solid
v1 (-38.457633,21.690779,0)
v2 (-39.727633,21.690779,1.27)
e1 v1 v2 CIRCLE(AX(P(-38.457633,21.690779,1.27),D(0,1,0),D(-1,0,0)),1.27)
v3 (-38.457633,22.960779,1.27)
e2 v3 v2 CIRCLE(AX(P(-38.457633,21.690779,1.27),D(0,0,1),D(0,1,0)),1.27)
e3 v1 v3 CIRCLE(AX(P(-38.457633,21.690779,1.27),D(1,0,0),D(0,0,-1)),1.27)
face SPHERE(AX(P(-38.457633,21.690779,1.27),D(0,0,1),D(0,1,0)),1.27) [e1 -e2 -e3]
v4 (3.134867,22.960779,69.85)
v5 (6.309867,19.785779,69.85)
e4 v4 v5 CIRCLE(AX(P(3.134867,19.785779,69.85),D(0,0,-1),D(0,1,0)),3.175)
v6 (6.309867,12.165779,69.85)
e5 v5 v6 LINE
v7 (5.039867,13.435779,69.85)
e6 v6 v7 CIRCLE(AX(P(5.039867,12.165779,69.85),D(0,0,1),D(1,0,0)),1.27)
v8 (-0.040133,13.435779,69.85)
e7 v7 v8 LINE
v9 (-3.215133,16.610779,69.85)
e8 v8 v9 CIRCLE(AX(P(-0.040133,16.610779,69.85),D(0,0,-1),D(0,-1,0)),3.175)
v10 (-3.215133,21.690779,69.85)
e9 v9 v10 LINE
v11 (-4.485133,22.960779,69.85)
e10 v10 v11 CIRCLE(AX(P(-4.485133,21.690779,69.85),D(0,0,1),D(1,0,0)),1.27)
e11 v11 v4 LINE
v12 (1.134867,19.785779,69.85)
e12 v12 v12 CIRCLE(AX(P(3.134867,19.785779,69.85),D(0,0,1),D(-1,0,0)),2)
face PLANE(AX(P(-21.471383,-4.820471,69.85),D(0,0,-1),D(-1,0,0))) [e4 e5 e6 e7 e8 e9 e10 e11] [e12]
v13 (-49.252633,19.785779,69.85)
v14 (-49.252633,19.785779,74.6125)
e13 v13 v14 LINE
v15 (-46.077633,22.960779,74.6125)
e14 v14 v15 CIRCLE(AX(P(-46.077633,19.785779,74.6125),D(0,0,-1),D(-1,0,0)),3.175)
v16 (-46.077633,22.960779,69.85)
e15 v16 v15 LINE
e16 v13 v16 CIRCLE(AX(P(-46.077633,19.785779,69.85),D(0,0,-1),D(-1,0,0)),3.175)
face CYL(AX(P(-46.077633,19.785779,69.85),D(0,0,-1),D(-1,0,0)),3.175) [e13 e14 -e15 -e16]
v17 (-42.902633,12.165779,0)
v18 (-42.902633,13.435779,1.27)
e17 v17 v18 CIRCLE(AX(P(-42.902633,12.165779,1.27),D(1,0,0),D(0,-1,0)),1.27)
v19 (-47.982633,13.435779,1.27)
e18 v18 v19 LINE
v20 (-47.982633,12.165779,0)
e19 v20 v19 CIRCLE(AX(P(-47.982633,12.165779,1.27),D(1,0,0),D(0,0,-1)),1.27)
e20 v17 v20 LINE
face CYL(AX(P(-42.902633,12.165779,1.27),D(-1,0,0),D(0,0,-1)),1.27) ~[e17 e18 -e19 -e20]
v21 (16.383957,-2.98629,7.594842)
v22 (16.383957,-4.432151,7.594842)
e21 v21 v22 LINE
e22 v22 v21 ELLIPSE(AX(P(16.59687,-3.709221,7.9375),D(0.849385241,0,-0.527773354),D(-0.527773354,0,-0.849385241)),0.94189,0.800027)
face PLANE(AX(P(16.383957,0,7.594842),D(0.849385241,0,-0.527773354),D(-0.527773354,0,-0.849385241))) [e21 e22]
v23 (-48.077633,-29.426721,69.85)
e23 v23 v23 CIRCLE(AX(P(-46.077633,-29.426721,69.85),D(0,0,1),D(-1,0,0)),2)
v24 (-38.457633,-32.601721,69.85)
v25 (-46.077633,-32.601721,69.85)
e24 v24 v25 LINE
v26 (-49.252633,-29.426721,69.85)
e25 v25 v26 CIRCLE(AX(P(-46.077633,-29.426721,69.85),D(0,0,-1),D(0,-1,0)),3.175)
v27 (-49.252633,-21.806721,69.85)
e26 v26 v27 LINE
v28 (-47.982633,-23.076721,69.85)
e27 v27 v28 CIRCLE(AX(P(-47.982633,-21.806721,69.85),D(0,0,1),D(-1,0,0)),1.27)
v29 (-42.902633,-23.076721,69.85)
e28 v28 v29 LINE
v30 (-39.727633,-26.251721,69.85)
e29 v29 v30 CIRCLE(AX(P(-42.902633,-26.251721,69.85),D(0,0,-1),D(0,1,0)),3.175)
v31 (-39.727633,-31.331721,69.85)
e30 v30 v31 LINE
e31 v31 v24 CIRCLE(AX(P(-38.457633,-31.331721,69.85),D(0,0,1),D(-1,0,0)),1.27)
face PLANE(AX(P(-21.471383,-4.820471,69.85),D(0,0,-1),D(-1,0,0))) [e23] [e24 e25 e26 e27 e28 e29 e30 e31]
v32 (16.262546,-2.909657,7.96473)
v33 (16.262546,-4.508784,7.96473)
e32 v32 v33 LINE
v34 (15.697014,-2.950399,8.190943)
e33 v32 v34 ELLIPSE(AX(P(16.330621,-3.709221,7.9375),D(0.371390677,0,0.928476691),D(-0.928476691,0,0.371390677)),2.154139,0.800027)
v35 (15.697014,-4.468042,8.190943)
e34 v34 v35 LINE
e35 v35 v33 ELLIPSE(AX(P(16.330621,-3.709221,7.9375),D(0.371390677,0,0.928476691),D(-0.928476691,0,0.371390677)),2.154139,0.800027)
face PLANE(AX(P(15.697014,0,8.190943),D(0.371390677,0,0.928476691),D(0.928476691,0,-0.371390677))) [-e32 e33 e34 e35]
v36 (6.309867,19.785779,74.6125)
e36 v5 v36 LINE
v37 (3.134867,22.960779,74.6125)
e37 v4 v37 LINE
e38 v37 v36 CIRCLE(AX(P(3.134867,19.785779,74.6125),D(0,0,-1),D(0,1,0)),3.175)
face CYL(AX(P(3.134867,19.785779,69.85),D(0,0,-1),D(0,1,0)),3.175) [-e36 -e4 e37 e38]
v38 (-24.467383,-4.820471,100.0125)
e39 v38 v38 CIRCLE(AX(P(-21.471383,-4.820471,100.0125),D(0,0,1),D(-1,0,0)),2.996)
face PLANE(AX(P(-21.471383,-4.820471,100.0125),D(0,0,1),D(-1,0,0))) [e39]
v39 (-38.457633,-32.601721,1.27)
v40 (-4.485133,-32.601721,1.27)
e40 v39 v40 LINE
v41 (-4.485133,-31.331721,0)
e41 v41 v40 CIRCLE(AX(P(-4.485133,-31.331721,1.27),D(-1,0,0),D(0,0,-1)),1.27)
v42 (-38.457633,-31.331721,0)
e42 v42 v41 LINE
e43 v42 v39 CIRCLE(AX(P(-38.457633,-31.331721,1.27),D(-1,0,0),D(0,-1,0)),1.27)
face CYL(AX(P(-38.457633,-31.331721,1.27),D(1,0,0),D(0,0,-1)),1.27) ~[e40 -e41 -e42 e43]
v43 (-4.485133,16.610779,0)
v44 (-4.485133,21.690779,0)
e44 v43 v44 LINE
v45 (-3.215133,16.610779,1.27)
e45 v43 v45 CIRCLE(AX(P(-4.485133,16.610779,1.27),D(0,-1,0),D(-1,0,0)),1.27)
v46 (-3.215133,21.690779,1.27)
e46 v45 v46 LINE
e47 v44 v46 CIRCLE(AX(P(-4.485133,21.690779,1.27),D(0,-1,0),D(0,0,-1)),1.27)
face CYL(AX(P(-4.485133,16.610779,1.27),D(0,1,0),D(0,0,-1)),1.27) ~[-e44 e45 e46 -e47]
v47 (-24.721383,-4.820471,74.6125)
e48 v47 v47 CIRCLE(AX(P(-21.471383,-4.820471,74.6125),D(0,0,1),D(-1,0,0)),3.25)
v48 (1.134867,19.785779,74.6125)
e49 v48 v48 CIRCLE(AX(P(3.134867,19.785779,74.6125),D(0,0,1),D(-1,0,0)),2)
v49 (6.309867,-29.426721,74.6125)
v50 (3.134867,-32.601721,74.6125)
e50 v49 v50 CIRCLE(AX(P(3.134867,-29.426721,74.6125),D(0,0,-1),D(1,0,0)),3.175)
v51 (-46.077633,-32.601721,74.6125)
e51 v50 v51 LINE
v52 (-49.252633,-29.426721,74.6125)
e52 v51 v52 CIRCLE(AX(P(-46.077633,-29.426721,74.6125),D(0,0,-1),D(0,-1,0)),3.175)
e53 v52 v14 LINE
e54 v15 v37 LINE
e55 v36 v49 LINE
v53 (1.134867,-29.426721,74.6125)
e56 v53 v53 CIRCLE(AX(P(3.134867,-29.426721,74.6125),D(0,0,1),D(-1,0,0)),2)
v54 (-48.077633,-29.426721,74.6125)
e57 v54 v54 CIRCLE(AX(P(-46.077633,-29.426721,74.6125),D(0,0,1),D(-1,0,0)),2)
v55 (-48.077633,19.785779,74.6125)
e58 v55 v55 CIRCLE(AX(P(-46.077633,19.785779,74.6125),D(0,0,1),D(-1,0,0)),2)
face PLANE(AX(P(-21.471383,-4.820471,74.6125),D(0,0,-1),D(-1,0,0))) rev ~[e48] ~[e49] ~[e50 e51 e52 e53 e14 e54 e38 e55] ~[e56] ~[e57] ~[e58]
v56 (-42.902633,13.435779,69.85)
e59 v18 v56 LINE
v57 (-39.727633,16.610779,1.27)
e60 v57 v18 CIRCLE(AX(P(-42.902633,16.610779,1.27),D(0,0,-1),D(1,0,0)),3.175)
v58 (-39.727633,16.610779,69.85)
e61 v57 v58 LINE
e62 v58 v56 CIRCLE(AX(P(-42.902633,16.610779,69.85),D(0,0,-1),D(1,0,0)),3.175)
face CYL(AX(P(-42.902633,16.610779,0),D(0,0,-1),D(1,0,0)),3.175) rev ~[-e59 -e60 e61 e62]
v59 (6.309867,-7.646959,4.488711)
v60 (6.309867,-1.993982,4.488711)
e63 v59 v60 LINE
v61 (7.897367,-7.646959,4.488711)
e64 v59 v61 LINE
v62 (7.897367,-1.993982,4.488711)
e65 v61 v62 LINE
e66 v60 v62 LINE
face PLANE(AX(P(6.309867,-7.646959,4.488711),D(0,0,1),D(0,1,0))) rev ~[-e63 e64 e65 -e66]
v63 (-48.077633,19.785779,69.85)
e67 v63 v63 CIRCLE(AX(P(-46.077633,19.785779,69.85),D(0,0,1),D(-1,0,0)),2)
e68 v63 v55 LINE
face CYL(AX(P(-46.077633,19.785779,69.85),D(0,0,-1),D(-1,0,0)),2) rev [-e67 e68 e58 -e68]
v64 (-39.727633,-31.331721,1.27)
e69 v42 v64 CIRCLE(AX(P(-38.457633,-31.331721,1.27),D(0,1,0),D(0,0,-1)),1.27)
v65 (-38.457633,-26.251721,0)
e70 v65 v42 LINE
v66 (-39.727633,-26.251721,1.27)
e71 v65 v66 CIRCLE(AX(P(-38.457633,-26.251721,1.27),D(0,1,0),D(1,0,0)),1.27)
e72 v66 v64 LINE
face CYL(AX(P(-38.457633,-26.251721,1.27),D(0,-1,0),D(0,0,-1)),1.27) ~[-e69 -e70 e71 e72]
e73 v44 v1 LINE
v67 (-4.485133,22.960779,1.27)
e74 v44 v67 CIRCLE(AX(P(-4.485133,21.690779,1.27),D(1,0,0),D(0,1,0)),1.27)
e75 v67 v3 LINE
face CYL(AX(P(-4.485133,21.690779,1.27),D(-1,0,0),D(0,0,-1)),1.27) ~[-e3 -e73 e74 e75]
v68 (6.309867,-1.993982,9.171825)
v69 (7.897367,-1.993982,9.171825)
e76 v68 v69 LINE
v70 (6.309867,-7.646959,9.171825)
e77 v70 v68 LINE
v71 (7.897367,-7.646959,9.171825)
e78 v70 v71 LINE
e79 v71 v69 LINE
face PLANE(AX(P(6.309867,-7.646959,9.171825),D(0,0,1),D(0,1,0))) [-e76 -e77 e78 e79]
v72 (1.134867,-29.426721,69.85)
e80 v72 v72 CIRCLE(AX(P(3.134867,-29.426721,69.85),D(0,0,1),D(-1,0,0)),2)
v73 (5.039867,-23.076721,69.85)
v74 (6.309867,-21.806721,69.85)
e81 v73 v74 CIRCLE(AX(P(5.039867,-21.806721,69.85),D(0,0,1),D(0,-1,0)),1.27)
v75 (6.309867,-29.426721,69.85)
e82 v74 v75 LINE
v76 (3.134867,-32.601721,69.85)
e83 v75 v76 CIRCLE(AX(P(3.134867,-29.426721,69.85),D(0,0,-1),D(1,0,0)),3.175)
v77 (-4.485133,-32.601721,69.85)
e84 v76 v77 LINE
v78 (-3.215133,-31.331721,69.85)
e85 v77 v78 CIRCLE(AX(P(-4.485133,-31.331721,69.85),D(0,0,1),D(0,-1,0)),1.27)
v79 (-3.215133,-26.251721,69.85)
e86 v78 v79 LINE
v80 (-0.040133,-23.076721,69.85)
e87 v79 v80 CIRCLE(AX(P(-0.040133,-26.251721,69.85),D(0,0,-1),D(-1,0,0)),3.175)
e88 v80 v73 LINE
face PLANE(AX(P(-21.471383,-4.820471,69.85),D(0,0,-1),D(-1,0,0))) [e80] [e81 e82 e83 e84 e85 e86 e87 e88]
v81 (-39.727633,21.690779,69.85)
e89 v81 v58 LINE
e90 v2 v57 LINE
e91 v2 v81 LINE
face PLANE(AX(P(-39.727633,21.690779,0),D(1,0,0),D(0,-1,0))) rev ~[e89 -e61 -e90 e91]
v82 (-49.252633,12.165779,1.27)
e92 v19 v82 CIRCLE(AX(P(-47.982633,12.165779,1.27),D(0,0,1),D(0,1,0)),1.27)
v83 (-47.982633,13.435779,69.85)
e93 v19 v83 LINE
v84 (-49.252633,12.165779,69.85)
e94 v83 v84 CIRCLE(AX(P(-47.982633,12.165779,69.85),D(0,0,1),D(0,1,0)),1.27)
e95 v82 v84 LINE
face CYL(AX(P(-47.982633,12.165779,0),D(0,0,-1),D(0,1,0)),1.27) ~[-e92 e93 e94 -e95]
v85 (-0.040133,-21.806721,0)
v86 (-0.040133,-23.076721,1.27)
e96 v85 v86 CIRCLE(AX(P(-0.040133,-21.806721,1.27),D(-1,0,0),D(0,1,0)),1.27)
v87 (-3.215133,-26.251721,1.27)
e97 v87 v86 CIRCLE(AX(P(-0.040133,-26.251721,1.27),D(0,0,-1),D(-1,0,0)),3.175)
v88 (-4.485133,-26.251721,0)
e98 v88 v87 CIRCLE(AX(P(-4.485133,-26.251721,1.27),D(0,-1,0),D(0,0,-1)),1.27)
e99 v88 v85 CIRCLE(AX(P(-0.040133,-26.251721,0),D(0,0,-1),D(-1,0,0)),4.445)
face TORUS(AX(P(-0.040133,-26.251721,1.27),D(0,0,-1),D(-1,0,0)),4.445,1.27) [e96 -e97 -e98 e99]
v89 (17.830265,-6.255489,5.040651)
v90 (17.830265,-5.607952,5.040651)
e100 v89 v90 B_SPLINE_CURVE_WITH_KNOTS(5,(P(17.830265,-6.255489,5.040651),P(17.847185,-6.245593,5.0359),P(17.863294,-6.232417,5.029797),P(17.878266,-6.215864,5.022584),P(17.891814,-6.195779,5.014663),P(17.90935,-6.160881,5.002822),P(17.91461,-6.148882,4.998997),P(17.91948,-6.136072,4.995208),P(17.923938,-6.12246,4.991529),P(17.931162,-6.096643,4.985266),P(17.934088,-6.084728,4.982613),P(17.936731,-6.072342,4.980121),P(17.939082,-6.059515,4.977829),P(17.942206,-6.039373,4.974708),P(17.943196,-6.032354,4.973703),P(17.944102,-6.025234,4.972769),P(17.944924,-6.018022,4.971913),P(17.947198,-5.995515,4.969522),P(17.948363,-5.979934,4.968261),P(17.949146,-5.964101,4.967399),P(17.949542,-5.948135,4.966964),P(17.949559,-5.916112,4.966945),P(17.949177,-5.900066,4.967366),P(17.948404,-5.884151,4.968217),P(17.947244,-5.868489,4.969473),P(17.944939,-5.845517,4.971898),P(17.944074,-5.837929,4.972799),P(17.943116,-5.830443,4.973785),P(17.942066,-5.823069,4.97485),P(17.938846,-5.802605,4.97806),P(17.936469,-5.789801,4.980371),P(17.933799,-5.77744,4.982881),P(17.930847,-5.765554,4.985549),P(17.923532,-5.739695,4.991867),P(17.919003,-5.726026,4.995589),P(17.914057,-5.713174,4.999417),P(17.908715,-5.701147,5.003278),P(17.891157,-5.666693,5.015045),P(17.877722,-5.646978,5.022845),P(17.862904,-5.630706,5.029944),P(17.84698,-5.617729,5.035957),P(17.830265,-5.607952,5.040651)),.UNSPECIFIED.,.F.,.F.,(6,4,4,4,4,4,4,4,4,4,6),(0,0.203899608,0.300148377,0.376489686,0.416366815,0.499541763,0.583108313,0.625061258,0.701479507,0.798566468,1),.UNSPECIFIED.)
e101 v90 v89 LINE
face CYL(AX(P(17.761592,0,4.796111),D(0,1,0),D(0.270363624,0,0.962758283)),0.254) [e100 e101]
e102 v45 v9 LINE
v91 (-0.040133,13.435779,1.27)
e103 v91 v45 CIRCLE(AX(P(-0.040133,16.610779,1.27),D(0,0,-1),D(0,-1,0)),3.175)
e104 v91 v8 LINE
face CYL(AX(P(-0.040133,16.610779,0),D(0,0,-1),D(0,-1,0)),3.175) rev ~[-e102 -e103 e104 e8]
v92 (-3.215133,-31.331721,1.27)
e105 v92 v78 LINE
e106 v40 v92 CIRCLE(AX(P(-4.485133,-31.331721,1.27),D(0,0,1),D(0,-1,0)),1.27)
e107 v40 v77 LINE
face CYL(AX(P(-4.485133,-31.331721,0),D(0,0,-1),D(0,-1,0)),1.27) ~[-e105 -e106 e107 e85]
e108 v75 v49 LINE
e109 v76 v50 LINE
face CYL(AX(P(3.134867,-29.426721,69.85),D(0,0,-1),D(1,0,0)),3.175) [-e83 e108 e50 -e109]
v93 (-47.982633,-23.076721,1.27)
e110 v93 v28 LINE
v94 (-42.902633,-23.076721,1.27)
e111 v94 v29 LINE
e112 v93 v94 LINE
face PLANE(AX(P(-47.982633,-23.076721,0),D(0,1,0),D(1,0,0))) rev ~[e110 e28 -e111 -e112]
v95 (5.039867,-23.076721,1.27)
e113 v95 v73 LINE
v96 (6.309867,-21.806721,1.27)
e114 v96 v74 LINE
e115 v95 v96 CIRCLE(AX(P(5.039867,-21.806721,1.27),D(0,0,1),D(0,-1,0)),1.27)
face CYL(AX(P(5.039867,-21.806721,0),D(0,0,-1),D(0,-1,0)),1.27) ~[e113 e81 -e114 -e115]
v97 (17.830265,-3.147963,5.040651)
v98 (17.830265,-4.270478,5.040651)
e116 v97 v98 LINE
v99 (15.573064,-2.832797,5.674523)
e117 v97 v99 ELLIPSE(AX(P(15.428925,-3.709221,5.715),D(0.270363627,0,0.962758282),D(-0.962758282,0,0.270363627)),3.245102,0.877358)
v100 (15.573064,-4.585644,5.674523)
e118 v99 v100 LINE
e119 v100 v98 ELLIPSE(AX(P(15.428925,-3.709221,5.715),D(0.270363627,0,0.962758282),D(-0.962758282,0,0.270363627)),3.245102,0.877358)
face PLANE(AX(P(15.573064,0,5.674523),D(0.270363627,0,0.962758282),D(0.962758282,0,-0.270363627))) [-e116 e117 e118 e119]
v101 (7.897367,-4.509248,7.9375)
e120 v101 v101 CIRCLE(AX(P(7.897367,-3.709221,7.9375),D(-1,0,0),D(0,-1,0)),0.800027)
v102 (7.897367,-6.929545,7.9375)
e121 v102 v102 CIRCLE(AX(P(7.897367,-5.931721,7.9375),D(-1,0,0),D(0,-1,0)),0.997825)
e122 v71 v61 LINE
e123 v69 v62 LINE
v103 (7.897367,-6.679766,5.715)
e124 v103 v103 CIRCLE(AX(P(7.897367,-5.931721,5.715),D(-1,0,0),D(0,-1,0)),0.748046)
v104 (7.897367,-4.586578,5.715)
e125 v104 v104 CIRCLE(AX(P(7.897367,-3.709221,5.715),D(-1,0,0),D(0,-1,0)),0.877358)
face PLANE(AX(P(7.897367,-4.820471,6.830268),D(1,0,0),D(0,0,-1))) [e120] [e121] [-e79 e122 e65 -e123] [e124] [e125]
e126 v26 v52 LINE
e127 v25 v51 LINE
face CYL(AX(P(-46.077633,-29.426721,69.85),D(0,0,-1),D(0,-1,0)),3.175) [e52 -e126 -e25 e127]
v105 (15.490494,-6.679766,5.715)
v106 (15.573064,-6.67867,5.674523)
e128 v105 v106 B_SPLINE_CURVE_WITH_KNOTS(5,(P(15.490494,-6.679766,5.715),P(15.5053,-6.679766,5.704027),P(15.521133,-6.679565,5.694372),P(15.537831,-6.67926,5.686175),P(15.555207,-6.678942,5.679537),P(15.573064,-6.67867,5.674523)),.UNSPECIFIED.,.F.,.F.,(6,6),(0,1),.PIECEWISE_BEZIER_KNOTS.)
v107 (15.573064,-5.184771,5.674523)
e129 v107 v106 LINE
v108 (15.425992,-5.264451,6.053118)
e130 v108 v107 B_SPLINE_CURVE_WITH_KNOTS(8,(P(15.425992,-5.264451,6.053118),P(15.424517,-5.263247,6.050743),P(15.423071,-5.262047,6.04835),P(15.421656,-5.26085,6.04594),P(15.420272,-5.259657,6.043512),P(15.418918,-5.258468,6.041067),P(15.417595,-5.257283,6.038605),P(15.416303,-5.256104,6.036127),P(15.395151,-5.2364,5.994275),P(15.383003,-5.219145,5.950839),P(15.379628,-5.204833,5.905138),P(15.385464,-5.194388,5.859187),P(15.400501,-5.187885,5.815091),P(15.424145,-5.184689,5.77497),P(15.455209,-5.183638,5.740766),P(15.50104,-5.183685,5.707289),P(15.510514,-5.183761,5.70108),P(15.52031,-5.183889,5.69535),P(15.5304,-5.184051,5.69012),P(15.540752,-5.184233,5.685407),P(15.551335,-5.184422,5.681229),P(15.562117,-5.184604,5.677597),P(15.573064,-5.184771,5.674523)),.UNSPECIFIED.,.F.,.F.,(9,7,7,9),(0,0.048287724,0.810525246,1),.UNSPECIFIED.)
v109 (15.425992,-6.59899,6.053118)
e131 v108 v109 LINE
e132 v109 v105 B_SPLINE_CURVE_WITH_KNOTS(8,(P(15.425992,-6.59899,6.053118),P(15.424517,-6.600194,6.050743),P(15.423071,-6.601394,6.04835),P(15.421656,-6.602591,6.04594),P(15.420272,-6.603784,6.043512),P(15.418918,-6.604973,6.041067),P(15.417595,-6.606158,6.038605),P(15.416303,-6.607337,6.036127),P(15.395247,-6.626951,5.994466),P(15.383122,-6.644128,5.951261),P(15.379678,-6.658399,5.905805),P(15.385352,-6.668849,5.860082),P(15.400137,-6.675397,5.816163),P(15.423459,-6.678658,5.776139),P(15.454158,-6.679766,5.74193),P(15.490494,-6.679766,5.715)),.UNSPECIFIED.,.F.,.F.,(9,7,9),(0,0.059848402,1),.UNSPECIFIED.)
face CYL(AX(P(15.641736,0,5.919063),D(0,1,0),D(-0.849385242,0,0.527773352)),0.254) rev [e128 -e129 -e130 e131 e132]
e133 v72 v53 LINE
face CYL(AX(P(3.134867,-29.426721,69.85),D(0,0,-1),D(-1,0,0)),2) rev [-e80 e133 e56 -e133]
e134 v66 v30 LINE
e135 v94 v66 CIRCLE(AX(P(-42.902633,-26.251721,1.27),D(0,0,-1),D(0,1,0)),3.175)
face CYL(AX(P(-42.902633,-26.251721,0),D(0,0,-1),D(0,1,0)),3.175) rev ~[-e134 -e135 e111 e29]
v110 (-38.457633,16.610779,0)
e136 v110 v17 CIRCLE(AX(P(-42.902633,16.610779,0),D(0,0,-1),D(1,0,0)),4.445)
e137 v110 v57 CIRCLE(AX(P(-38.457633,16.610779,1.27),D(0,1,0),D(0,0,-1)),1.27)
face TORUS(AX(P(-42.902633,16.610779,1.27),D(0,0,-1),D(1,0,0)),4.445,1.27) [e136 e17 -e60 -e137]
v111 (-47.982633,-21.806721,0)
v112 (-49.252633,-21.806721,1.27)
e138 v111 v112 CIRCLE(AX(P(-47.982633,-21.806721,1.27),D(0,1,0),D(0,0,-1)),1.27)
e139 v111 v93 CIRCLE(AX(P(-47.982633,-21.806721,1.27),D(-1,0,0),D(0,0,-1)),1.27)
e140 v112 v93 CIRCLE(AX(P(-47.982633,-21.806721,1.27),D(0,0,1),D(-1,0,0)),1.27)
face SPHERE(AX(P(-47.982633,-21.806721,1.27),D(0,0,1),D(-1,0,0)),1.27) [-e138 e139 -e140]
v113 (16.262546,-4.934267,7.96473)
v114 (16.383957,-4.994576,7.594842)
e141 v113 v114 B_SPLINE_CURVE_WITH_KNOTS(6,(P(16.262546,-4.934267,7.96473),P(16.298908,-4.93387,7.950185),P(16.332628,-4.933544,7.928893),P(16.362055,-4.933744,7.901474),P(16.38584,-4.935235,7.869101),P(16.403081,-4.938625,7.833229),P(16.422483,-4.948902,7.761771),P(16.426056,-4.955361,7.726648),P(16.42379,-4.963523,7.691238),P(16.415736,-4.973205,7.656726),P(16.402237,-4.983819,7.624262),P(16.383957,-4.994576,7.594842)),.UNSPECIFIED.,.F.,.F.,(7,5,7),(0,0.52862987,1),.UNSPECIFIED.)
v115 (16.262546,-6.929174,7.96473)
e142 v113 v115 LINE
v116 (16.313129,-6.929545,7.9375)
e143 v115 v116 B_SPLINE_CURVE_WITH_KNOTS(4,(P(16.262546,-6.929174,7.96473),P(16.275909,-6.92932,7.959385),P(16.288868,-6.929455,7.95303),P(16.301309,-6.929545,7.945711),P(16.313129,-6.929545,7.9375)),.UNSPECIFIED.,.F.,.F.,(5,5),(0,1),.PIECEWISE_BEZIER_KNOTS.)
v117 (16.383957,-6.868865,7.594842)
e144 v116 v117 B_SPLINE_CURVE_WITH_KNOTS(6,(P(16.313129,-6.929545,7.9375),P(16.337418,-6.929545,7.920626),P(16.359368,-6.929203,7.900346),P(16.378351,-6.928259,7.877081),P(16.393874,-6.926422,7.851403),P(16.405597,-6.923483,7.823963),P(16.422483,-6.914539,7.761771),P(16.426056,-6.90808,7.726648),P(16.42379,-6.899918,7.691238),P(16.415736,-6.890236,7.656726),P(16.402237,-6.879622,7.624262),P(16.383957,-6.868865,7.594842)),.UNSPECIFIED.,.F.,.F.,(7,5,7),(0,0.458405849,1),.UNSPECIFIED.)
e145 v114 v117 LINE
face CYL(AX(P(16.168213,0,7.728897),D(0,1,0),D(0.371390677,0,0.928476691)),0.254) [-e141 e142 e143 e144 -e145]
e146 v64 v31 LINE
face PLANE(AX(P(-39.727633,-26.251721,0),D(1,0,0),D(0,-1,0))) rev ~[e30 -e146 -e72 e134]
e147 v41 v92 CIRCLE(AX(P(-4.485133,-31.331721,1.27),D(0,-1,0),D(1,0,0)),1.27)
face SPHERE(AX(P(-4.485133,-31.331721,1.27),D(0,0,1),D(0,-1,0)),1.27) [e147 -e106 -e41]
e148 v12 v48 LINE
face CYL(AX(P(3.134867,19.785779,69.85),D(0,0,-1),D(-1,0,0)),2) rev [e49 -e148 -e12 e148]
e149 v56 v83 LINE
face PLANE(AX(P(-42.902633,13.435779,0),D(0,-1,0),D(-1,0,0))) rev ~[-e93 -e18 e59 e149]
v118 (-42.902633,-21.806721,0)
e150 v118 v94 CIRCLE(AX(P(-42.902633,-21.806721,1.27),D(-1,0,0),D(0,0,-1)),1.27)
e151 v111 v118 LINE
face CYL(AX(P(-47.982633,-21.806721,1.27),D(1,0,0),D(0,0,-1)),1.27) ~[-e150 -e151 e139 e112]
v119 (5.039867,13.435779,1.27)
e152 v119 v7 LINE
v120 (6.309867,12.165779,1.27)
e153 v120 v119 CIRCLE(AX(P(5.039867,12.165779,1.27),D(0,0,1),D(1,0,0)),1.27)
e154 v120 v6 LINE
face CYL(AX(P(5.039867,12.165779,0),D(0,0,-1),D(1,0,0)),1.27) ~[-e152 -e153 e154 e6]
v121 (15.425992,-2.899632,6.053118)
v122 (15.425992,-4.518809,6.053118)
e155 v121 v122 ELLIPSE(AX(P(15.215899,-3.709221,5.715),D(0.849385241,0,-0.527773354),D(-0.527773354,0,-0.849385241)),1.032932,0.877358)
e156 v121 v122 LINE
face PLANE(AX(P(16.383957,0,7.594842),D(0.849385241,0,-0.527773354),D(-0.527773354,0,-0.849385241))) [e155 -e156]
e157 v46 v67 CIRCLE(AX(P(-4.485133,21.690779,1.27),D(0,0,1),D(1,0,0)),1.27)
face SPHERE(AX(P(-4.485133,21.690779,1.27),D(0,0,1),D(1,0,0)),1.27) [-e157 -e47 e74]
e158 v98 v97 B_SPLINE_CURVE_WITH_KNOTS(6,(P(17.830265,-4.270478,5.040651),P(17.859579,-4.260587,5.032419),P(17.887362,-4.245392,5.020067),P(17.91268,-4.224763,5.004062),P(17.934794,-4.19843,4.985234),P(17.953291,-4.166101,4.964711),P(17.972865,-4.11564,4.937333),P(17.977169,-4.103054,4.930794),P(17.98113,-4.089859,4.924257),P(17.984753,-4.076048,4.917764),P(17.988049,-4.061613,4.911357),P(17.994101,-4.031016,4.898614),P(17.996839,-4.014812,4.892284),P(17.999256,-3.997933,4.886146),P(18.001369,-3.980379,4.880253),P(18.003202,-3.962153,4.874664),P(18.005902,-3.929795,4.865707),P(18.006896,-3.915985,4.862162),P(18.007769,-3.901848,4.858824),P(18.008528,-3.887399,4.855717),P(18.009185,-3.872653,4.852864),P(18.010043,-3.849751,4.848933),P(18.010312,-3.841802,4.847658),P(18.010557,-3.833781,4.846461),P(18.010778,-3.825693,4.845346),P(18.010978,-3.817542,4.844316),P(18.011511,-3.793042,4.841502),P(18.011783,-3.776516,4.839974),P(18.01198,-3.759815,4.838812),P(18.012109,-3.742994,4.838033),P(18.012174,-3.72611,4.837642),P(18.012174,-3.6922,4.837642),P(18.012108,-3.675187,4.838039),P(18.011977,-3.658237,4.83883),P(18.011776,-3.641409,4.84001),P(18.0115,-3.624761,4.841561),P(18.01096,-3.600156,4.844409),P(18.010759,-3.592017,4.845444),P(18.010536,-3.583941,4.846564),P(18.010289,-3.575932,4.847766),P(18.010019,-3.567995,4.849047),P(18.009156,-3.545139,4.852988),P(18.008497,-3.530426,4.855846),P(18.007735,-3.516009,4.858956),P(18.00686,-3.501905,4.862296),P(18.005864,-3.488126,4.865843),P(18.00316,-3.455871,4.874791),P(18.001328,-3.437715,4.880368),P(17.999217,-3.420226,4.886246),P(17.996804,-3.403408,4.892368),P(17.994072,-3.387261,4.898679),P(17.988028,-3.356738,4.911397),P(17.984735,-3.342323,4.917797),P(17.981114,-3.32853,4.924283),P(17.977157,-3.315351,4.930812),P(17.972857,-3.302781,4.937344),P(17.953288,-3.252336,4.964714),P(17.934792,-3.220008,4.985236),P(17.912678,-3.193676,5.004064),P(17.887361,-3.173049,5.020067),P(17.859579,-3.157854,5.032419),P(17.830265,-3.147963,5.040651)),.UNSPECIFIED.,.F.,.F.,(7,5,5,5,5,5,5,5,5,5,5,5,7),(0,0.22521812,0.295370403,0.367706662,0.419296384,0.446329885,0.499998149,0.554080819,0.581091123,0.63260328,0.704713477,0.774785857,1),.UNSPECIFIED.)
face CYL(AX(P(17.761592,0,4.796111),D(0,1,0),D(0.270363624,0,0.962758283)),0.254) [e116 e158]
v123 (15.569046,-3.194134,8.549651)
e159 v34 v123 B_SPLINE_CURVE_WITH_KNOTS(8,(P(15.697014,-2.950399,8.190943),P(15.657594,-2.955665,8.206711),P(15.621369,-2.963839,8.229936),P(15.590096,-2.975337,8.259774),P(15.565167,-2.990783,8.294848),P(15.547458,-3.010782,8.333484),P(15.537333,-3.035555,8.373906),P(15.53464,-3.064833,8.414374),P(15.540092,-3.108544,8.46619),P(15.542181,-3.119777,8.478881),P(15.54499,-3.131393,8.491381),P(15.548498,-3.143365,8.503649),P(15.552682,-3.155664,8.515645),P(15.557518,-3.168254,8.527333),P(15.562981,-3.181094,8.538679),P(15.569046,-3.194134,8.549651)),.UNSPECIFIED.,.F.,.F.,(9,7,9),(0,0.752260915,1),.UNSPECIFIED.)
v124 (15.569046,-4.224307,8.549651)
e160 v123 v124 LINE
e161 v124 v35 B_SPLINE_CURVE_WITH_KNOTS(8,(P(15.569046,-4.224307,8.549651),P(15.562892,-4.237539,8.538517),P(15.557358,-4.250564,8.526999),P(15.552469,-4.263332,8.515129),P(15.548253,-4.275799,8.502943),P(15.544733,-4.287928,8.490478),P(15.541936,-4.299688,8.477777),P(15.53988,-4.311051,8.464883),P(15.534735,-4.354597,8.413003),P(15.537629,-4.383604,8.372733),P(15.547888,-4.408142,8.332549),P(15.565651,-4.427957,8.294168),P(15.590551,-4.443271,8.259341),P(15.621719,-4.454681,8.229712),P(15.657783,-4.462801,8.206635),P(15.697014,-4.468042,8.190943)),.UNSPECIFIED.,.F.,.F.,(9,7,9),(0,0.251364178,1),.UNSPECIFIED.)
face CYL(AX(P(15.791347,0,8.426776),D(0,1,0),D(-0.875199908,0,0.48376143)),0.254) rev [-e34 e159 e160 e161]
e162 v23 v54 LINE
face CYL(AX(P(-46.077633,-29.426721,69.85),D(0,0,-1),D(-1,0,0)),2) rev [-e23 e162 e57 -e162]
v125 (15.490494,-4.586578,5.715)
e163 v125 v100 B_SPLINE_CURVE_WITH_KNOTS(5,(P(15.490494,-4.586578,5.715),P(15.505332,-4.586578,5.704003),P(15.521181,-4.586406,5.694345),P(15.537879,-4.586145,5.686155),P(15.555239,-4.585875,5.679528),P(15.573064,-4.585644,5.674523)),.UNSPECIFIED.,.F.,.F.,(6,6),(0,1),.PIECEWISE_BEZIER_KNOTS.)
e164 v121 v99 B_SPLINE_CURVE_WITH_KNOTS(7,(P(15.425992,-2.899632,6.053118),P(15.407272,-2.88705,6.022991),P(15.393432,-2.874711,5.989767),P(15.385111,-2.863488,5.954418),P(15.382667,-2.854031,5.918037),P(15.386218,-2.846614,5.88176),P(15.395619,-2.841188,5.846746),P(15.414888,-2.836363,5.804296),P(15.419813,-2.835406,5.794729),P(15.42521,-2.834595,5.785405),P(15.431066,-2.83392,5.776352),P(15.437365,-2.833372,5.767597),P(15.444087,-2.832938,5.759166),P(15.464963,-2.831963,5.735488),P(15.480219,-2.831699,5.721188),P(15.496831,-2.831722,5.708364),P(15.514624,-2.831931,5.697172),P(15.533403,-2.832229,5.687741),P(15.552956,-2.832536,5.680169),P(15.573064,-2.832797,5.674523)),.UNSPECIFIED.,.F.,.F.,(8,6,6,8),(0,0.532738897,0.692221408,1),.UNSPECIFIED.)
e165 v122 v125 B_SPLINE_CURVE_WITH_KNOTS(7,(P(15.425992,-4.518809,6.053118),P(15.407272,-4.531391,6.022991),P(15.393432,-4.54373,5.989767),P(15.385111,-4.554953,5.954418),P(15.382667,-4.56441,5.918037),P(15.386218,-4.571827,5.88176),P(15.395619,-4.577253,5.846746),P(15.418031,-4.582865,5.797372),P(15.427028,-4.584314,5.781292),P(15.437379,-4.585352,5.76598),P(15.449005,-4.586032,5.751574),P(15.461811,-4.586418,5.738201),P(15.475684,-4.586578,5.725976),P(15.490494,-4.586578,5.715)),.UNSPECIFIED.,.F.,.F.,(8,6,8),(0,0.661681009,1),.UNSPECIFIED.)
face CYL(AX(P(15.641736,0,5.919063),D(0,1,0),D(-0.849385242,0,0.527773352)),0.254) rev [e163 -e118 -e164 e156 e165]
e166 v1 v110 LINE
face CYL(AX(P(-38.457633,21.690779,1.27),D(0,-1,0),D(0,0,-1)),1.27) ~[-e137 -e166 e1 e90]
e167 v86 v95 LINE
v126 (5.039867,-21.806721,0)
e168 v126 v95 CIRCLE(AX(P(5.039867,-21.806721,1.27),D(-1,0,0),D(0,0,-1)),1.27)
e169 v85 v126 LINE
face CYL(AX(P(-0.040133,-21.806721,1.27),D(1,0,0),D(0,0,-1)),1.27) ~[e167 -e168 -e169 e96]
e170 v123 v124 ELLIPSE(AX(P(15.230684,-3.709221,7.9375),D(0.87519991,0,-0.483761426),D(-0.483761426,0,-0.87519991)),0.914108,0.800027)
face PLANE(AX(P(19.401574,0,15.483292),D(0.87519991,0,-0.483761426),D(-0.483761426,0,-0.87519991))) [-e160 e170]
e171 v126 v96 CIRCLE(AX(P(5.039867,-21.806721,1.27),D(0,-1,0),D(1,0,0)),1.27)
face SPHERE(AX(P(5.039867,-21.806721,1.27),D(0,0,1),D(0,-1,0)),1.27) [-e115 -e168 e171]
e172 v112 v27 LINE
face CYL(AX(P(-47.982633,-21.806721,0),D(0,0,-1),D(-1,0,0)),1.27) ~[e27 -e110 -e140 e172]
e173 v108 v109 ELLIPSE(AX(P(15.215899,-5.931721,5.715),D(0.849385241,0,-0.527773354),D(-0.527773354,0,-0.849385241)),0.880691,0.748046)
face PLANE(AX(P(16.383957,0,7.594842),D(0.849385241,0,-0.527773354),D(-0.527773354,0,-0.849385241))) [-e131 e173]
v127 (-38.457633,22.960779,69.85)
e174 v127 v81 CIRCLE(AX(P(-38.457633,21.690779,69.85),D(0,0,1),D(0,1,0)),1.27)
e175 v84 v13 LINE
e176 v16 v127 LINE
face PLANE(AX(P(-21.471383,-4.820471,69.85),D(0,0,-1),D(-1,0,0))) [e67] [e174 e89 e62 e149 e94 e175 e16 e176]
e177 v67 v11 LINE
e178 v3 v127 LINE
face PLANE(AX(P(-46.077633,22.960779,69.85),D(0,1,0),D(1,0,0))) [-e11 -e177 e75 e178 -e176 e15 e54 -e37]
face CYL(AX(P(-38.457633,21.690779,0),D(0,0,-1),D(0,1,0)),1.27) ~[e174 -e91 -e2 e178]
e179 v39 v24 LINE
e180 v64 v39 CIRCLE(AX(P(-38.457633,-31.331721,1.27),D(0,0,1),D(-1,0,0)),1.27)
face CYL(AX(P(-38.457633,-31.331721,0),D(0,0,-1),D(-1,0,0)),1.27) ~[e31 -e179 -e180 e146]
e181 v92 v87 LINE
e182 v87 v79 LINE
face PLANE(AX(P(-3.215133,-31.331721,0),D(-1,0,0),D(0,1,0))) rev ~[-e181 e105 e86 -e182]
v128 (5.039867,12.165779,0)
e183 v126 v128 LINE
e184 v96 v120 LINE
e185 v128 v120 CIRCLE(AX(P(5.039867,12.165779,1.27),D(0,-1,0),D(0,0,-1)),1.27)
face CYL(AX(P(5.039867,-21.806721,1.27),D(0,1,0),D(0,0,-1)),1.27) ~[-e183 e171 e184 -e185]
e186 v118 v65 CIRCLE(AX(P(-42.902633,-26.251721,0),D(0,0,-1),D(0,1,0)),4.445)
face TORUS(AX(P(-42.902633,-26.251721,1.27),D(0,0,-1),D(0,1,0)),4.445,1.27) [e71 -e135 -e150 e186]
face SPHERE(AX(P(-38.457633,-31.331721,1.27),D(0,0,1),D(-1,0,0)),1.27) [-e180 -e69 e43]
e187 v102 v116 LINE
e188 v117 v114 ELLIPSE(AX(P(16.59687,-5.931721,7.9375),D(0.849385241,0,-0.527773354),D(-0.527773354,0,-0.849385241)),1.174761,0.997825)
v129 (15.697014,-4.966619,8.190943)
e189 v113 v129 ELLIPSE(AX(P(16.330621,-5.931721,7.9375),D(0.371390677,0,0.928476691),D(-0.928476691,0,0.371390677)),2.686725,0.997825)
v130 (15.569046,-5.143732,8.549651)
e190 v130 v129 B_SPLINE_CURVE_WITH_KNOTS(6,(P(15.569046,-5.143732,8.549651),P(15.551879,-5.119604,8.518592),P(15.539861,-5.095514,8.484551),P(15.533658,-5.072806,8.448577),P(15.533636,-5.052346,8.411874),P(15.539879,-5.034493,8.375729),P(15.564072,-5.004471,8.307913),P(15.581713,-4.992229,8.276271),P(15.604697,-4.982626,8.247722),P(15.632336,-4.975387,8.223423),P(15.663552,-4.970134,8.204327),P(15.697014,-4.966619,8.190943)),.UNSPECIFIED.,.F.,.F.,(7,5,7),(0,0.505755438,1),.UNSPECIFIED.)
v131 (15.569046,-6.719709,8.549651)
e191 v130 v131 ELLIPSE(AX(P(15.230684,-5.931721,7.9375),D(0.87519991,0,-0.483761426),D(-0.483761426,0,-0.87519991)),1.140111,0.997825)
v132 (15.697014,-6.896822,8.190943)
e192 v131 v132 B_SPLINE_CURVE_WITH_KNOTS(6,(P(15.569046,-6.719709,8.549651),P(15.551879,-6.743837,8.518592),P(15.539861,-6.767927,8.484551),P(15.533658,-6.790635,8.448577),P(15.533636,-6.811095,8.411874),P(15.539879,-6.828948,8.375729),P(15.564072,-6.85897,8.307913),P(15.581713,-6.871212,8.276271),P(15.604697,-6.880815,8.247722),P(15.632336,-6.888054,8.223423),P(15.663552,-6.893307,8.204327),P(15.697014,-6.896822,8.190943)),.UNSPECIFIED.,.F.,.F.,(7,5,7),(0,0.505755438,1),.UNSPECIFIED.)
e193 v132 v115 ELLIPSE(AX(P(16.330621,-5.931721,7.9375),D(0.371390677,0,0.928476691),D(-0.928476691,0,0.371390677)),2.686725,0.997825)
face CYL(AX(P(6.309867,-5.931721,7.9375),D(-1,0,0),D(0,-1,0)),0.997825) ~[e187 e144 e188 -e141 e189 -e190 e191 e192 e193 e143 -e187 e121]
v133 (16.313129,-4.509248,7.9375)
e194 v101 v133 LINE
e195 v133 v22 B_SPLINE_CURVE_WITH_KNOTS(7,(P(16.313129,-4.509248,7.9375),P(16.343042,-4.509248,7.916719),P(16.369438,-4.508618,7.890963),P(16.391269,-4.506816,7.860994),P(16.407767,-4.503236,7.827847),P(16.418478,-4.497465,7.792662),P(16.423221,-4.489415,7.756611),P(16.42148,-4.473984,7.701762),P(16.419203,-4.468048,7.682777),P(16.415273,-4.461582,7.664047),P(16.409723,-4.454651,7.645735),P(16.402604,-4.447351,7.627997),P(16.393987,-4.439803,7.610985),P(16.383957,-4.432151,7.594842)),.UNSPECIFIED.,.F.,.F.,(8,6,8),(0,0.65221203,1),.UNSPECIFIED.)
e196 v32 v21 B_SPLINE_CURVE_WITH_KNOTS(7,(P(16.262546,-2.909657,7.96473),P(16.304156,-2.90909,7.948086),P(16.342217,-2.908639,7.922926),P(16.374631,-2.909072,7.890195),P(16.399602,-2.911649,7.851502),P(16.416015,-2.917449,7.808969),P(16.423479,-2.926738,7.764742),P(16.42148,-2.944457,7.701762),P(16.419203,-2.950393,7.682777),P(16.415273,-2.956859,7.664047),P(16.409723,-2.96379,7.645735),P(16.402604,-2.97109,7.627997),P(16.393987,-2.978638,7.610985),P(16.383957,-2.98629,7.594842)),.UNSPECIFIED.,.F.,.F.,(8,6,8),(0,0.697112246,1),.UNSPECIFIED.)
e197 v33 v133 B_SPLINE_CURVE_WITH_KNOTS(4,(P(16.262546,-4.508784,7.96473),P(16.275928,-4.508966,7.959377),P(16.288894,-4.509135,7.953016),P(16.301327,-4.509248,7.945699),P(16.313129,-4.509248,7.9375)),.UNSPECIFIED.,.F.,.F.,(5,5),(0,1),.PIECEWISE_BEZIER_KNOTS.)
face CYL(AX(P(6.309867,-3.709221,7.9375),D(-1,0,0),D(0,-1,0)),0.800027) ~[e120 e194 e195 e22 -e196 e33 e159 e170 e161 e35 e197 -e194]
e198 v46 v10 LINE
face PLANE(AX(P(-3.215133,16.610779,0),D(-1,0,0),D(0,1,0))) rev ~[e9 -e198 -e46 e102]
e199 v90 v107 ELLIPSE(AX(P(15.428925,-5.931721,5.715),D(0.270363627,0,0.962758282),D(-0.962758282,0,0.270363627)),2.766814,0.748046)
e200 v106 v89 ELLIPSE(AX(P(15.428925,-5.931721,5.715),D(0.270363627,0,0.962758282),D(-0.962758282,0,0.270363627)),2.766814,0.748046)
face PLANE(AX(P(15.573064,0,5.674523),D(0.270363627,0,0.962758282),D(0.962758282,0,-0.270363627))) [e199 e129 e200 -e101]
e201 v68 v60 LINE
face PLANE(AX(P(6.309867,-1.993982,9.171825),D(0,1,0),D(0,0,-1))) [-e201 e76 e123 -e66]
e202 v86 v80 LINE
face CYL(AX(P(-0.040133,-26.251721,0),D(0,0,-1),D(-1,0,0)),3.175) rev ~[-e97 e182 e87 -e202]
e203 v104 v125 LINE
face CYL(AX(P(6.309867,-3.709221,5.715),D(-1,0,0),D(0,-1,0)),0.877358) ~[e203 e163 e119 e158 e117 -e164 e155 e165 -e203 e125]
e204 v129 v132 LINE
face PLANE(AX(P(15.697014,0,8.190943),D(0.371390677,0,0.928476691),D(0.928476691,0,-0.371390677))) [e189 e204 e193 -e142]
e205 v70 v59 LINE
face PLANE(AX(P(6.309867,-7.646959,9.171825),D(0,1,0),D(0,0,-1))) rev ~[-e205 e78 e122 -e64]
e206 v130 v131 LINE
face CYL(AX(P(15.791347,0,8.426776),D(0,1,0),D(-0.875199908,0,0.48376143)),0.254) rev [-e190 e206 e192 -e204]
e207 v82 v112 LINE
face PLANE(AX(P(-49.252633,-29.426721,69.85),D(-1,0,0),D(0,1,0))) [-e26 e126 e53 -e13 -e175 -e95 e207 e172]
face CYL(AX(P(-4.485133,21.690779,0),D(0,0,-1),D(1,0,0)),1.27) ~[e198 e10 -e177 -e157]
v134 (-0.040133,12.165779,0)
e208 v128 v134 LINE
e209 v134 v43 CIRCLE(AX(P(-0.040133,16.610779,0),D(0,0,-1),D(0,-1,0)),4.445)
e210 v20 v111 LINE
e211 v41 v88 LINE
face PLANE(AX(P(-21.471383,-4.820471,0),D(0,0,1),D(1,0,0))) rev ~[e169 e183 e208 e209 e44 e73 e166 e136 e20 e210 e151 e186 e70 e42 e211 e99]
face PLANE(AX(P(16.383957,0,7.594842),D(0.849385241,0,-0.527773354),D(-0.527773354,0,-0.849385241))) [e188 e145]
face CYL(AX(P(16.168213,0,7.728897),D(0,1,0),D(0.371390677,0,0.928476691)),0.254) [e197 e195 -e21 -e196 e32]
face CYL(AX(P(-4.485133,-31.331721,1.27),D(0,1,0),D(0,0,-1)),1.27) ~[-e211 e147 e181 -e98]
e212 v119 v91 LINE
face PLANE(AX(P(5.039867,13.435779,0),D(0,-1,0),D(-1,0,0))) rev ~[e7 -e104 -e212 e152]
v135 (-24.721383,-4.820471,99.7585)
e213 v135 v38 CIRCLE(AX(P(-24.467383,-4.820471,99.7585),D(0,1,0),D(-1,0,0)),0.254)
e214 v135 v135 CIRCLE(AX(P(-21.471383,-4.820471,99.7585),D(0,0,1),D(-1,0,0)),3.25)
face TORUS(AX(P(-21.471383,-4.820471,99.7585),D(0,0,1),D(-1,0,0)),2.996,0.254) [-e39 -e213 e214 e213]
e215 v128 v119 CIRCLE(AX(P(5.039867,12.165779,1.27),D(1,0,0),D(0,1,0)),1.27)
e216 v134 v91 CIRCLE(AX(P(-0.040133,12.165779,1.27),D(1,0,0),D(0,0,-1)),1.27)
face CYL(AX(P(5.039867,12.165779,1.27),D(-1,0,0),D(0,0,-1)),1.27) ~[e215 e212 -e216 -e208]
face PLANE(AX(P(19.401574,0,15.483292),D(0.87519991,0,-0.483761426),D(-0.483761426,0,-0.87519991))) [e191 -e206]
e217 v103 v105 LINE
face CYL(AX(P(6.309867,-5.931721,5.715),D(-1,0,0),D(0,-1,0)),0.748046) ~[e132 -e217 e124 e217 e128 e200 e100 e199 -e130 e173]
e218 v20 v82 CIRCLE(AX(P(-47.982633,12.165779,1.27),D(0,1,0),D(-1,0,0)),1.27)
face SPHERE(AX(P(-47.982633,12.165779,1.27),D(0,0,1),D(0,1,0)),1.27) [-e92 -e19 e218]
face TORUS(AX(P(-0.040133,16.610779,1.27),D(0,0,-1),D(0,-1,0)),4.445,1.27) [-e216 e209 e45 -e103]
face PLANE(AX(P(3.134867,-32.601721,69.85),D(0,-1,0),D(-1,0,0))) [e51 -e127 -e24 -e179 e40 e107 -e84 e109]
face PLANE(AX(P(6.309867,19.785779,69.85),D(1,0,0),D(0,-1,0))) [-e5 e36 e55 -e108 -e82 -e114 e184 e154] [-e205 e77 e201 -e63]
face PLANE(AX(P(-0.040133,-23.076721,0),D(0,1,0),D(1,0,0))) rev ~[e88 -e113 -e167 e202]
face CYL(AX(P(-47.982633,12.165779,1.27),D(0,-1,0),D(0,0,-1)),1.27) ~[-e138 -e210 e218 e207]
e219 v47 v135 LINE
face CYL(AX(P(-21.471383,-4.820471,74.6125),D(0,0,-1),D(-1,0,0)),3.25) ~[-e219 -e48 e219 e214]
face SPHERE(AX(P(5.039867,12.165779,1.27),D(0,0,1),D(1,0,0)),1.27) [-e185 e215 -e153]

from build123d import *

# Parameters (mm, degrees)
BOSS_EXTRUDE1_DEPTH = 69.85
SKETCH2_R           = 2
BOSS_EXTRUDE2_DEPTH = 4.7625
SKETCH3_R           = 3.25
BOSS_EXTRUDE3_DEPTH = 25.4
FILLET1_R           = 1.27
FILLET2_R           = 0.254
SKETCH4_R           = 0.80002704
SKETCH4_R_2         = 0.877357611
SKETCH4_R_3         = 0.997824801
SKETCH4_R_4         = 0.748045891
BOSS_EXTRUDE4_DEPTH = 12.7
CUT_EXTRUDE1_DEPTH  = 12.7
SKETCH6_W           = 4.683113718
SKETCH6_H           = 5.652977511
BOSS_EXTRUDE5_DEPTH = 1.5875


with BuildPart() as part:
    # Sketch1 → Boss-Extrude1 (new body)
    with BuildSketch(Plane.XY):
        with BuildLine():
            Line((-39.727633427, -26.251720506), (-39.727633427, -31.331720506))
            ThreePointArc((-39.727633427, -31.331720506), (-39.355659039, -32.229746118), (-38.457633427, -32.601720506))
            Line((-38.457633427, -32.601720506), (-4.485133427, -32.601720506))
            ThreePointArc((-4.485133427, -32.601720506), (-3.587107815, -32.229746118), (-3.215133427, -31.331720506))
            Line((-3.215133427, -31.331720506), (-3.215133427, -26.251720506))
            ThreePointArc((-3.215133427, -26.251720506), (-2.285197457, -24.006656475), (-0.040133427, -23.076720506))
            Line((-0.040133427, -23.076720506), (5.039866573, -23.076720506))
            ThreePointArc((5.039866573, -23.076720506), (5.937892185, -22.704746118), (6.309866573, -21.806720506))
            Line((6.309866573, -21.806720506), (6.309866573, 12.165779494))
            ThreePointArc((6.309866573, 12.165779494), (5.937892185, 13.063805106), (5.039866573, 13.435779494))
            Line((5.039866573, 13.435779494), (-0.040133427, 13.435779494))
            ThreePointArc((-0.040133427, 13.435779494), (-2.285197457, 14.365715464), (-3.215133427, 16.610779494))
            Line((-3.215133427, 16.610779494), (-3.215133427, 21.690779494))
            ThreePointArc((-3.215133427, 21.690779494), (-3.587107815, 22.588805106), (-4.485133427, 22.960779494))
            Line((-4.485133427, 22.960779494), (-38.457633427, 22.960779494))
            ThreePointArc((-38.457633427, 22.960779494), (-39.355659039, 22.588805106), (-39.727633427, 21.690779494))
            Line((-39.727633427, 21.690779494), (-39.727633427, 16.610779494))
            ThreePointArc((-39.727633427, 16.610779494), (-40.657569397, 14.365715464), (-42.902633427, 13.435779494))
            Line((-42.902633427, 13.435779494), (-47.982633427, 13.435779494))
            ThreePointArc((-47.982633427, 13.435779494), (-48.880659039, 13.063805106), (-49.252633427, 12.165779494))
            Line((-49.252633427, 12.165779494), (-49.252633427, -21.806720506))
            ThreePointArc((-49.252633427, -21.806720506), (-48.880659039, -22.704746118), (-47.982633427, -23.076720506))
            Line((-47.982633427, -23.076720506), (-42.902633427, -23.076720506))
            ThreePointArc((-42.902633427, -23.076720506), (-40.657569397, -24.006656475), (-39.727633427, -26.251720506))
        make_face()
    extrude(amount=BOSS_EXTRUDE1_DEPTH)

    # Sketch2 → Boss-Extrude2 (add)
    with BuildSketch(Plane.XY.offset(69.85)):
        with BuildLine():
            Line((-46.077633427, 22.960779494), (3.134866573, 22.960779494))
            ThreePointArc((3.134866573, 22.960779494), (5.379930603, 22.030843525), (6.309866573, 19.785779494))
            Line((6.309866573, 19.785779494), (6.309866573, -29.426720506))
            ThreePointArc((6.309866573, -29.426720506), (5.379930603, -31.671784536), (3.134866573, -32.601720506))
            Line((3.134866573, -32.601720506), (-46.077633427, -32.601720506))
            ThreePointArc((-46.077633427, -32.601720506), (-48.322697457, -31.671784536), (-49.252633427, -29.426720506))
            Line((-49.252633427, -29.426720506), (-49.252633427, 19.785779494))
            ThreePointArc((-49.252633427, 19.785779494), (-48.322697457, 22.030843525), (-46.077633427, 22.960779494))
        make_face()
        with Locations(Location((-46.077633427, 19.785779494, 0), (0, 0, 180))):
            Circle(SKETCH2_R, mode=Mode.SUBTRACT)
        with Locations(Location((3.134866573, 19.785779494, 0), (0, 0, 180))):
            Circle(SKETCH2_R, mode=Mode.SUBTRACT)
        with Locations(Location((3.134866573, -29.426720506, 0), (0, 0, 180))):
            Circle(SKETCH2_R, mode=Mode.SUBTRACT)
        with Locations(Location((-46.077633427, -29.426720506, 0), (0, 0, 180))):
            Circle(SKETCH2_R, mode=Mode.SUBTRACT)
    extrude(amount=BOSS_EXTRUDE2_DEPTH)

    # Sketch3 → Boss-Extrude3 (add)
    with BuildSketch(Plane.XY.offset(74.6125)):
        with Locations(Location((-21.471383427, -4.820470506, 0), (0, 0, 180))):
            Circle(SKETCH3_R)
    extrude(amount=BOSS_EXTRUDE3_DEPTH)

    # Fillet1
    fillet1_edges = [part.edges().sort_by_distance(p)[0] for p in [
        (-45.442633427, -23.076720506, 0),
        (-48.880659039, -22.704746118, 0),
        (-49.252633427, -4.820470506, 0),
        (-48.880659039, 13.063805106, 0),
        (-45.442633427, 13.435779494, 0),
        (-40.657569397, 14.365715464, 0),
        (-39.727633427, 19.150779494, 0),
        (-39.355659039, 22.588805106, 0),
        (-21.471383427, 22.960779494, 0),
        (-3.587107815, 22.588805106, 0),
        (-3.215133427, 19.150779494, 0),
        (-2.285197457, 14.365715464, 0),
        (2.499866573, 13.435779494, 0),
        (5.937892185, 13.063805106, 0),
        (6.309866573, -4.820470506, 0),
        (5.937892185, -22.704746118, 0),
        (2.499866573, -23.076720506, 0),
        (-2.285197457, -24.006656475, 0),
        (-3.215133427, -28.791720506, 0),
        (-3.587107815, -32.229746118, 0),
        (-21.471383427, -32.601720506, 0),
        (-39.355659039, -32.229746118, 0),
        (-39.727633427, -28.791720506, 0),
        (-40.657569397, -24.006656475, 0),
    ]]
    fillet(fillet1_edges, radius=FILLET1_R)

    # Fillet2
    fillet2_edges = [part.edges().sort_by_distance(p)[0] for p in [
        (-18.221383427, -4.820470506, 100.0125),
    ]]
    fillet(fillet2_edges, radius=FILLET2_R)

    # Sketch4 → Boss-Extrude4 (add)
    with BuildSketch(Plane(origin=(6.309866573, 0, 0), x_dir=(0, 0, -1), z_dir=(1, 0, 0))):
        with Locations(Location((-7.9375, -3.709220506, 0), (0, 0, 270))):
            Circle(SKETCH4_R)
        with Locations(Location((-5.715, -3.709220506, 0), (0, 0, 270))):
            Circle(SKETCH4_R_2)
        with Locations(Location((-7.9375, -5.931720506, 0), (0, 0, 270))):
            Circle(SKETCH4_R_3)
        with Locations(Location((-5.715, -5.931720506, 0), (0, 0, 270))):
            Circle(SKETCH4_R_4)
    extrude(amount=BOSS_EXTRUDE4_DEPTH)

    # Sketch5 → Cut-Extrude1 (cut)
    with BuildSketch(Plane(origin=(0, 0, 0), x_dir=(1, 0, 0), z_dir=(0, 1, 0))):
        with BuildLine():
            Line((19.40157432, -15.483292253), (15.569046376, -8.549651145))
            ThreePointArc((15.569046376, -8.549651145), (15.552114593, -8.341430664), (15.697013921, -8.190942663))
            Line((15.697013921, -8.190942663), (16.262546188, -7.964729756))
            ThreePointArc((16.262546188, -7.964729756), (16.409544972, -7.808110678), (16.383956807, -7.594842245))
            Line((16.383956807, -7.594842245), (15.425992047, -6.05311771))
            ThreePointArc((15.425992047, -6.05311771), (15.404972946, -5.827088801), (15.573063537, -5.674522674))
            Line((15.573063537, -5.674522674), (17.830264536, -5.040651161))
            ThreePointArc((17.830264536, -5.040651161), (18.003893911, -4.872306809), (17.957864643, -4.634886744))
            Line((17.957864643, -4.634886744), (14.477857706, -0.398356559))
            Line((14.477857706, -0.398356559), (15.904974427, 0.453519903))
            Line((15.904974427, 0.453519903), (25.632541799, -10.775224085))
            Line((25.632541799, -10.775224085), (19.40157432, -15.483292253))
        make_face()
    extrude(amount=-CUT_EXTRUDE1_DEPTH, mode=Mode.SUBTRACT)

    # Sketch6 → Boss-Extrude5 (add)
    with BuildSketch(Plane(origin=(6.309866573, 0, 0), x_dir=(0, 0, -1), z_dir=(1, 0, 0))):
        with Locations((-6.830267964, -4.820470506)):
            Rectangle(SKETCH6_W, SKETCH6_H)
    extrude(amount=BOSS_EXTRUDE5_DEPTH)


solid = part.part
